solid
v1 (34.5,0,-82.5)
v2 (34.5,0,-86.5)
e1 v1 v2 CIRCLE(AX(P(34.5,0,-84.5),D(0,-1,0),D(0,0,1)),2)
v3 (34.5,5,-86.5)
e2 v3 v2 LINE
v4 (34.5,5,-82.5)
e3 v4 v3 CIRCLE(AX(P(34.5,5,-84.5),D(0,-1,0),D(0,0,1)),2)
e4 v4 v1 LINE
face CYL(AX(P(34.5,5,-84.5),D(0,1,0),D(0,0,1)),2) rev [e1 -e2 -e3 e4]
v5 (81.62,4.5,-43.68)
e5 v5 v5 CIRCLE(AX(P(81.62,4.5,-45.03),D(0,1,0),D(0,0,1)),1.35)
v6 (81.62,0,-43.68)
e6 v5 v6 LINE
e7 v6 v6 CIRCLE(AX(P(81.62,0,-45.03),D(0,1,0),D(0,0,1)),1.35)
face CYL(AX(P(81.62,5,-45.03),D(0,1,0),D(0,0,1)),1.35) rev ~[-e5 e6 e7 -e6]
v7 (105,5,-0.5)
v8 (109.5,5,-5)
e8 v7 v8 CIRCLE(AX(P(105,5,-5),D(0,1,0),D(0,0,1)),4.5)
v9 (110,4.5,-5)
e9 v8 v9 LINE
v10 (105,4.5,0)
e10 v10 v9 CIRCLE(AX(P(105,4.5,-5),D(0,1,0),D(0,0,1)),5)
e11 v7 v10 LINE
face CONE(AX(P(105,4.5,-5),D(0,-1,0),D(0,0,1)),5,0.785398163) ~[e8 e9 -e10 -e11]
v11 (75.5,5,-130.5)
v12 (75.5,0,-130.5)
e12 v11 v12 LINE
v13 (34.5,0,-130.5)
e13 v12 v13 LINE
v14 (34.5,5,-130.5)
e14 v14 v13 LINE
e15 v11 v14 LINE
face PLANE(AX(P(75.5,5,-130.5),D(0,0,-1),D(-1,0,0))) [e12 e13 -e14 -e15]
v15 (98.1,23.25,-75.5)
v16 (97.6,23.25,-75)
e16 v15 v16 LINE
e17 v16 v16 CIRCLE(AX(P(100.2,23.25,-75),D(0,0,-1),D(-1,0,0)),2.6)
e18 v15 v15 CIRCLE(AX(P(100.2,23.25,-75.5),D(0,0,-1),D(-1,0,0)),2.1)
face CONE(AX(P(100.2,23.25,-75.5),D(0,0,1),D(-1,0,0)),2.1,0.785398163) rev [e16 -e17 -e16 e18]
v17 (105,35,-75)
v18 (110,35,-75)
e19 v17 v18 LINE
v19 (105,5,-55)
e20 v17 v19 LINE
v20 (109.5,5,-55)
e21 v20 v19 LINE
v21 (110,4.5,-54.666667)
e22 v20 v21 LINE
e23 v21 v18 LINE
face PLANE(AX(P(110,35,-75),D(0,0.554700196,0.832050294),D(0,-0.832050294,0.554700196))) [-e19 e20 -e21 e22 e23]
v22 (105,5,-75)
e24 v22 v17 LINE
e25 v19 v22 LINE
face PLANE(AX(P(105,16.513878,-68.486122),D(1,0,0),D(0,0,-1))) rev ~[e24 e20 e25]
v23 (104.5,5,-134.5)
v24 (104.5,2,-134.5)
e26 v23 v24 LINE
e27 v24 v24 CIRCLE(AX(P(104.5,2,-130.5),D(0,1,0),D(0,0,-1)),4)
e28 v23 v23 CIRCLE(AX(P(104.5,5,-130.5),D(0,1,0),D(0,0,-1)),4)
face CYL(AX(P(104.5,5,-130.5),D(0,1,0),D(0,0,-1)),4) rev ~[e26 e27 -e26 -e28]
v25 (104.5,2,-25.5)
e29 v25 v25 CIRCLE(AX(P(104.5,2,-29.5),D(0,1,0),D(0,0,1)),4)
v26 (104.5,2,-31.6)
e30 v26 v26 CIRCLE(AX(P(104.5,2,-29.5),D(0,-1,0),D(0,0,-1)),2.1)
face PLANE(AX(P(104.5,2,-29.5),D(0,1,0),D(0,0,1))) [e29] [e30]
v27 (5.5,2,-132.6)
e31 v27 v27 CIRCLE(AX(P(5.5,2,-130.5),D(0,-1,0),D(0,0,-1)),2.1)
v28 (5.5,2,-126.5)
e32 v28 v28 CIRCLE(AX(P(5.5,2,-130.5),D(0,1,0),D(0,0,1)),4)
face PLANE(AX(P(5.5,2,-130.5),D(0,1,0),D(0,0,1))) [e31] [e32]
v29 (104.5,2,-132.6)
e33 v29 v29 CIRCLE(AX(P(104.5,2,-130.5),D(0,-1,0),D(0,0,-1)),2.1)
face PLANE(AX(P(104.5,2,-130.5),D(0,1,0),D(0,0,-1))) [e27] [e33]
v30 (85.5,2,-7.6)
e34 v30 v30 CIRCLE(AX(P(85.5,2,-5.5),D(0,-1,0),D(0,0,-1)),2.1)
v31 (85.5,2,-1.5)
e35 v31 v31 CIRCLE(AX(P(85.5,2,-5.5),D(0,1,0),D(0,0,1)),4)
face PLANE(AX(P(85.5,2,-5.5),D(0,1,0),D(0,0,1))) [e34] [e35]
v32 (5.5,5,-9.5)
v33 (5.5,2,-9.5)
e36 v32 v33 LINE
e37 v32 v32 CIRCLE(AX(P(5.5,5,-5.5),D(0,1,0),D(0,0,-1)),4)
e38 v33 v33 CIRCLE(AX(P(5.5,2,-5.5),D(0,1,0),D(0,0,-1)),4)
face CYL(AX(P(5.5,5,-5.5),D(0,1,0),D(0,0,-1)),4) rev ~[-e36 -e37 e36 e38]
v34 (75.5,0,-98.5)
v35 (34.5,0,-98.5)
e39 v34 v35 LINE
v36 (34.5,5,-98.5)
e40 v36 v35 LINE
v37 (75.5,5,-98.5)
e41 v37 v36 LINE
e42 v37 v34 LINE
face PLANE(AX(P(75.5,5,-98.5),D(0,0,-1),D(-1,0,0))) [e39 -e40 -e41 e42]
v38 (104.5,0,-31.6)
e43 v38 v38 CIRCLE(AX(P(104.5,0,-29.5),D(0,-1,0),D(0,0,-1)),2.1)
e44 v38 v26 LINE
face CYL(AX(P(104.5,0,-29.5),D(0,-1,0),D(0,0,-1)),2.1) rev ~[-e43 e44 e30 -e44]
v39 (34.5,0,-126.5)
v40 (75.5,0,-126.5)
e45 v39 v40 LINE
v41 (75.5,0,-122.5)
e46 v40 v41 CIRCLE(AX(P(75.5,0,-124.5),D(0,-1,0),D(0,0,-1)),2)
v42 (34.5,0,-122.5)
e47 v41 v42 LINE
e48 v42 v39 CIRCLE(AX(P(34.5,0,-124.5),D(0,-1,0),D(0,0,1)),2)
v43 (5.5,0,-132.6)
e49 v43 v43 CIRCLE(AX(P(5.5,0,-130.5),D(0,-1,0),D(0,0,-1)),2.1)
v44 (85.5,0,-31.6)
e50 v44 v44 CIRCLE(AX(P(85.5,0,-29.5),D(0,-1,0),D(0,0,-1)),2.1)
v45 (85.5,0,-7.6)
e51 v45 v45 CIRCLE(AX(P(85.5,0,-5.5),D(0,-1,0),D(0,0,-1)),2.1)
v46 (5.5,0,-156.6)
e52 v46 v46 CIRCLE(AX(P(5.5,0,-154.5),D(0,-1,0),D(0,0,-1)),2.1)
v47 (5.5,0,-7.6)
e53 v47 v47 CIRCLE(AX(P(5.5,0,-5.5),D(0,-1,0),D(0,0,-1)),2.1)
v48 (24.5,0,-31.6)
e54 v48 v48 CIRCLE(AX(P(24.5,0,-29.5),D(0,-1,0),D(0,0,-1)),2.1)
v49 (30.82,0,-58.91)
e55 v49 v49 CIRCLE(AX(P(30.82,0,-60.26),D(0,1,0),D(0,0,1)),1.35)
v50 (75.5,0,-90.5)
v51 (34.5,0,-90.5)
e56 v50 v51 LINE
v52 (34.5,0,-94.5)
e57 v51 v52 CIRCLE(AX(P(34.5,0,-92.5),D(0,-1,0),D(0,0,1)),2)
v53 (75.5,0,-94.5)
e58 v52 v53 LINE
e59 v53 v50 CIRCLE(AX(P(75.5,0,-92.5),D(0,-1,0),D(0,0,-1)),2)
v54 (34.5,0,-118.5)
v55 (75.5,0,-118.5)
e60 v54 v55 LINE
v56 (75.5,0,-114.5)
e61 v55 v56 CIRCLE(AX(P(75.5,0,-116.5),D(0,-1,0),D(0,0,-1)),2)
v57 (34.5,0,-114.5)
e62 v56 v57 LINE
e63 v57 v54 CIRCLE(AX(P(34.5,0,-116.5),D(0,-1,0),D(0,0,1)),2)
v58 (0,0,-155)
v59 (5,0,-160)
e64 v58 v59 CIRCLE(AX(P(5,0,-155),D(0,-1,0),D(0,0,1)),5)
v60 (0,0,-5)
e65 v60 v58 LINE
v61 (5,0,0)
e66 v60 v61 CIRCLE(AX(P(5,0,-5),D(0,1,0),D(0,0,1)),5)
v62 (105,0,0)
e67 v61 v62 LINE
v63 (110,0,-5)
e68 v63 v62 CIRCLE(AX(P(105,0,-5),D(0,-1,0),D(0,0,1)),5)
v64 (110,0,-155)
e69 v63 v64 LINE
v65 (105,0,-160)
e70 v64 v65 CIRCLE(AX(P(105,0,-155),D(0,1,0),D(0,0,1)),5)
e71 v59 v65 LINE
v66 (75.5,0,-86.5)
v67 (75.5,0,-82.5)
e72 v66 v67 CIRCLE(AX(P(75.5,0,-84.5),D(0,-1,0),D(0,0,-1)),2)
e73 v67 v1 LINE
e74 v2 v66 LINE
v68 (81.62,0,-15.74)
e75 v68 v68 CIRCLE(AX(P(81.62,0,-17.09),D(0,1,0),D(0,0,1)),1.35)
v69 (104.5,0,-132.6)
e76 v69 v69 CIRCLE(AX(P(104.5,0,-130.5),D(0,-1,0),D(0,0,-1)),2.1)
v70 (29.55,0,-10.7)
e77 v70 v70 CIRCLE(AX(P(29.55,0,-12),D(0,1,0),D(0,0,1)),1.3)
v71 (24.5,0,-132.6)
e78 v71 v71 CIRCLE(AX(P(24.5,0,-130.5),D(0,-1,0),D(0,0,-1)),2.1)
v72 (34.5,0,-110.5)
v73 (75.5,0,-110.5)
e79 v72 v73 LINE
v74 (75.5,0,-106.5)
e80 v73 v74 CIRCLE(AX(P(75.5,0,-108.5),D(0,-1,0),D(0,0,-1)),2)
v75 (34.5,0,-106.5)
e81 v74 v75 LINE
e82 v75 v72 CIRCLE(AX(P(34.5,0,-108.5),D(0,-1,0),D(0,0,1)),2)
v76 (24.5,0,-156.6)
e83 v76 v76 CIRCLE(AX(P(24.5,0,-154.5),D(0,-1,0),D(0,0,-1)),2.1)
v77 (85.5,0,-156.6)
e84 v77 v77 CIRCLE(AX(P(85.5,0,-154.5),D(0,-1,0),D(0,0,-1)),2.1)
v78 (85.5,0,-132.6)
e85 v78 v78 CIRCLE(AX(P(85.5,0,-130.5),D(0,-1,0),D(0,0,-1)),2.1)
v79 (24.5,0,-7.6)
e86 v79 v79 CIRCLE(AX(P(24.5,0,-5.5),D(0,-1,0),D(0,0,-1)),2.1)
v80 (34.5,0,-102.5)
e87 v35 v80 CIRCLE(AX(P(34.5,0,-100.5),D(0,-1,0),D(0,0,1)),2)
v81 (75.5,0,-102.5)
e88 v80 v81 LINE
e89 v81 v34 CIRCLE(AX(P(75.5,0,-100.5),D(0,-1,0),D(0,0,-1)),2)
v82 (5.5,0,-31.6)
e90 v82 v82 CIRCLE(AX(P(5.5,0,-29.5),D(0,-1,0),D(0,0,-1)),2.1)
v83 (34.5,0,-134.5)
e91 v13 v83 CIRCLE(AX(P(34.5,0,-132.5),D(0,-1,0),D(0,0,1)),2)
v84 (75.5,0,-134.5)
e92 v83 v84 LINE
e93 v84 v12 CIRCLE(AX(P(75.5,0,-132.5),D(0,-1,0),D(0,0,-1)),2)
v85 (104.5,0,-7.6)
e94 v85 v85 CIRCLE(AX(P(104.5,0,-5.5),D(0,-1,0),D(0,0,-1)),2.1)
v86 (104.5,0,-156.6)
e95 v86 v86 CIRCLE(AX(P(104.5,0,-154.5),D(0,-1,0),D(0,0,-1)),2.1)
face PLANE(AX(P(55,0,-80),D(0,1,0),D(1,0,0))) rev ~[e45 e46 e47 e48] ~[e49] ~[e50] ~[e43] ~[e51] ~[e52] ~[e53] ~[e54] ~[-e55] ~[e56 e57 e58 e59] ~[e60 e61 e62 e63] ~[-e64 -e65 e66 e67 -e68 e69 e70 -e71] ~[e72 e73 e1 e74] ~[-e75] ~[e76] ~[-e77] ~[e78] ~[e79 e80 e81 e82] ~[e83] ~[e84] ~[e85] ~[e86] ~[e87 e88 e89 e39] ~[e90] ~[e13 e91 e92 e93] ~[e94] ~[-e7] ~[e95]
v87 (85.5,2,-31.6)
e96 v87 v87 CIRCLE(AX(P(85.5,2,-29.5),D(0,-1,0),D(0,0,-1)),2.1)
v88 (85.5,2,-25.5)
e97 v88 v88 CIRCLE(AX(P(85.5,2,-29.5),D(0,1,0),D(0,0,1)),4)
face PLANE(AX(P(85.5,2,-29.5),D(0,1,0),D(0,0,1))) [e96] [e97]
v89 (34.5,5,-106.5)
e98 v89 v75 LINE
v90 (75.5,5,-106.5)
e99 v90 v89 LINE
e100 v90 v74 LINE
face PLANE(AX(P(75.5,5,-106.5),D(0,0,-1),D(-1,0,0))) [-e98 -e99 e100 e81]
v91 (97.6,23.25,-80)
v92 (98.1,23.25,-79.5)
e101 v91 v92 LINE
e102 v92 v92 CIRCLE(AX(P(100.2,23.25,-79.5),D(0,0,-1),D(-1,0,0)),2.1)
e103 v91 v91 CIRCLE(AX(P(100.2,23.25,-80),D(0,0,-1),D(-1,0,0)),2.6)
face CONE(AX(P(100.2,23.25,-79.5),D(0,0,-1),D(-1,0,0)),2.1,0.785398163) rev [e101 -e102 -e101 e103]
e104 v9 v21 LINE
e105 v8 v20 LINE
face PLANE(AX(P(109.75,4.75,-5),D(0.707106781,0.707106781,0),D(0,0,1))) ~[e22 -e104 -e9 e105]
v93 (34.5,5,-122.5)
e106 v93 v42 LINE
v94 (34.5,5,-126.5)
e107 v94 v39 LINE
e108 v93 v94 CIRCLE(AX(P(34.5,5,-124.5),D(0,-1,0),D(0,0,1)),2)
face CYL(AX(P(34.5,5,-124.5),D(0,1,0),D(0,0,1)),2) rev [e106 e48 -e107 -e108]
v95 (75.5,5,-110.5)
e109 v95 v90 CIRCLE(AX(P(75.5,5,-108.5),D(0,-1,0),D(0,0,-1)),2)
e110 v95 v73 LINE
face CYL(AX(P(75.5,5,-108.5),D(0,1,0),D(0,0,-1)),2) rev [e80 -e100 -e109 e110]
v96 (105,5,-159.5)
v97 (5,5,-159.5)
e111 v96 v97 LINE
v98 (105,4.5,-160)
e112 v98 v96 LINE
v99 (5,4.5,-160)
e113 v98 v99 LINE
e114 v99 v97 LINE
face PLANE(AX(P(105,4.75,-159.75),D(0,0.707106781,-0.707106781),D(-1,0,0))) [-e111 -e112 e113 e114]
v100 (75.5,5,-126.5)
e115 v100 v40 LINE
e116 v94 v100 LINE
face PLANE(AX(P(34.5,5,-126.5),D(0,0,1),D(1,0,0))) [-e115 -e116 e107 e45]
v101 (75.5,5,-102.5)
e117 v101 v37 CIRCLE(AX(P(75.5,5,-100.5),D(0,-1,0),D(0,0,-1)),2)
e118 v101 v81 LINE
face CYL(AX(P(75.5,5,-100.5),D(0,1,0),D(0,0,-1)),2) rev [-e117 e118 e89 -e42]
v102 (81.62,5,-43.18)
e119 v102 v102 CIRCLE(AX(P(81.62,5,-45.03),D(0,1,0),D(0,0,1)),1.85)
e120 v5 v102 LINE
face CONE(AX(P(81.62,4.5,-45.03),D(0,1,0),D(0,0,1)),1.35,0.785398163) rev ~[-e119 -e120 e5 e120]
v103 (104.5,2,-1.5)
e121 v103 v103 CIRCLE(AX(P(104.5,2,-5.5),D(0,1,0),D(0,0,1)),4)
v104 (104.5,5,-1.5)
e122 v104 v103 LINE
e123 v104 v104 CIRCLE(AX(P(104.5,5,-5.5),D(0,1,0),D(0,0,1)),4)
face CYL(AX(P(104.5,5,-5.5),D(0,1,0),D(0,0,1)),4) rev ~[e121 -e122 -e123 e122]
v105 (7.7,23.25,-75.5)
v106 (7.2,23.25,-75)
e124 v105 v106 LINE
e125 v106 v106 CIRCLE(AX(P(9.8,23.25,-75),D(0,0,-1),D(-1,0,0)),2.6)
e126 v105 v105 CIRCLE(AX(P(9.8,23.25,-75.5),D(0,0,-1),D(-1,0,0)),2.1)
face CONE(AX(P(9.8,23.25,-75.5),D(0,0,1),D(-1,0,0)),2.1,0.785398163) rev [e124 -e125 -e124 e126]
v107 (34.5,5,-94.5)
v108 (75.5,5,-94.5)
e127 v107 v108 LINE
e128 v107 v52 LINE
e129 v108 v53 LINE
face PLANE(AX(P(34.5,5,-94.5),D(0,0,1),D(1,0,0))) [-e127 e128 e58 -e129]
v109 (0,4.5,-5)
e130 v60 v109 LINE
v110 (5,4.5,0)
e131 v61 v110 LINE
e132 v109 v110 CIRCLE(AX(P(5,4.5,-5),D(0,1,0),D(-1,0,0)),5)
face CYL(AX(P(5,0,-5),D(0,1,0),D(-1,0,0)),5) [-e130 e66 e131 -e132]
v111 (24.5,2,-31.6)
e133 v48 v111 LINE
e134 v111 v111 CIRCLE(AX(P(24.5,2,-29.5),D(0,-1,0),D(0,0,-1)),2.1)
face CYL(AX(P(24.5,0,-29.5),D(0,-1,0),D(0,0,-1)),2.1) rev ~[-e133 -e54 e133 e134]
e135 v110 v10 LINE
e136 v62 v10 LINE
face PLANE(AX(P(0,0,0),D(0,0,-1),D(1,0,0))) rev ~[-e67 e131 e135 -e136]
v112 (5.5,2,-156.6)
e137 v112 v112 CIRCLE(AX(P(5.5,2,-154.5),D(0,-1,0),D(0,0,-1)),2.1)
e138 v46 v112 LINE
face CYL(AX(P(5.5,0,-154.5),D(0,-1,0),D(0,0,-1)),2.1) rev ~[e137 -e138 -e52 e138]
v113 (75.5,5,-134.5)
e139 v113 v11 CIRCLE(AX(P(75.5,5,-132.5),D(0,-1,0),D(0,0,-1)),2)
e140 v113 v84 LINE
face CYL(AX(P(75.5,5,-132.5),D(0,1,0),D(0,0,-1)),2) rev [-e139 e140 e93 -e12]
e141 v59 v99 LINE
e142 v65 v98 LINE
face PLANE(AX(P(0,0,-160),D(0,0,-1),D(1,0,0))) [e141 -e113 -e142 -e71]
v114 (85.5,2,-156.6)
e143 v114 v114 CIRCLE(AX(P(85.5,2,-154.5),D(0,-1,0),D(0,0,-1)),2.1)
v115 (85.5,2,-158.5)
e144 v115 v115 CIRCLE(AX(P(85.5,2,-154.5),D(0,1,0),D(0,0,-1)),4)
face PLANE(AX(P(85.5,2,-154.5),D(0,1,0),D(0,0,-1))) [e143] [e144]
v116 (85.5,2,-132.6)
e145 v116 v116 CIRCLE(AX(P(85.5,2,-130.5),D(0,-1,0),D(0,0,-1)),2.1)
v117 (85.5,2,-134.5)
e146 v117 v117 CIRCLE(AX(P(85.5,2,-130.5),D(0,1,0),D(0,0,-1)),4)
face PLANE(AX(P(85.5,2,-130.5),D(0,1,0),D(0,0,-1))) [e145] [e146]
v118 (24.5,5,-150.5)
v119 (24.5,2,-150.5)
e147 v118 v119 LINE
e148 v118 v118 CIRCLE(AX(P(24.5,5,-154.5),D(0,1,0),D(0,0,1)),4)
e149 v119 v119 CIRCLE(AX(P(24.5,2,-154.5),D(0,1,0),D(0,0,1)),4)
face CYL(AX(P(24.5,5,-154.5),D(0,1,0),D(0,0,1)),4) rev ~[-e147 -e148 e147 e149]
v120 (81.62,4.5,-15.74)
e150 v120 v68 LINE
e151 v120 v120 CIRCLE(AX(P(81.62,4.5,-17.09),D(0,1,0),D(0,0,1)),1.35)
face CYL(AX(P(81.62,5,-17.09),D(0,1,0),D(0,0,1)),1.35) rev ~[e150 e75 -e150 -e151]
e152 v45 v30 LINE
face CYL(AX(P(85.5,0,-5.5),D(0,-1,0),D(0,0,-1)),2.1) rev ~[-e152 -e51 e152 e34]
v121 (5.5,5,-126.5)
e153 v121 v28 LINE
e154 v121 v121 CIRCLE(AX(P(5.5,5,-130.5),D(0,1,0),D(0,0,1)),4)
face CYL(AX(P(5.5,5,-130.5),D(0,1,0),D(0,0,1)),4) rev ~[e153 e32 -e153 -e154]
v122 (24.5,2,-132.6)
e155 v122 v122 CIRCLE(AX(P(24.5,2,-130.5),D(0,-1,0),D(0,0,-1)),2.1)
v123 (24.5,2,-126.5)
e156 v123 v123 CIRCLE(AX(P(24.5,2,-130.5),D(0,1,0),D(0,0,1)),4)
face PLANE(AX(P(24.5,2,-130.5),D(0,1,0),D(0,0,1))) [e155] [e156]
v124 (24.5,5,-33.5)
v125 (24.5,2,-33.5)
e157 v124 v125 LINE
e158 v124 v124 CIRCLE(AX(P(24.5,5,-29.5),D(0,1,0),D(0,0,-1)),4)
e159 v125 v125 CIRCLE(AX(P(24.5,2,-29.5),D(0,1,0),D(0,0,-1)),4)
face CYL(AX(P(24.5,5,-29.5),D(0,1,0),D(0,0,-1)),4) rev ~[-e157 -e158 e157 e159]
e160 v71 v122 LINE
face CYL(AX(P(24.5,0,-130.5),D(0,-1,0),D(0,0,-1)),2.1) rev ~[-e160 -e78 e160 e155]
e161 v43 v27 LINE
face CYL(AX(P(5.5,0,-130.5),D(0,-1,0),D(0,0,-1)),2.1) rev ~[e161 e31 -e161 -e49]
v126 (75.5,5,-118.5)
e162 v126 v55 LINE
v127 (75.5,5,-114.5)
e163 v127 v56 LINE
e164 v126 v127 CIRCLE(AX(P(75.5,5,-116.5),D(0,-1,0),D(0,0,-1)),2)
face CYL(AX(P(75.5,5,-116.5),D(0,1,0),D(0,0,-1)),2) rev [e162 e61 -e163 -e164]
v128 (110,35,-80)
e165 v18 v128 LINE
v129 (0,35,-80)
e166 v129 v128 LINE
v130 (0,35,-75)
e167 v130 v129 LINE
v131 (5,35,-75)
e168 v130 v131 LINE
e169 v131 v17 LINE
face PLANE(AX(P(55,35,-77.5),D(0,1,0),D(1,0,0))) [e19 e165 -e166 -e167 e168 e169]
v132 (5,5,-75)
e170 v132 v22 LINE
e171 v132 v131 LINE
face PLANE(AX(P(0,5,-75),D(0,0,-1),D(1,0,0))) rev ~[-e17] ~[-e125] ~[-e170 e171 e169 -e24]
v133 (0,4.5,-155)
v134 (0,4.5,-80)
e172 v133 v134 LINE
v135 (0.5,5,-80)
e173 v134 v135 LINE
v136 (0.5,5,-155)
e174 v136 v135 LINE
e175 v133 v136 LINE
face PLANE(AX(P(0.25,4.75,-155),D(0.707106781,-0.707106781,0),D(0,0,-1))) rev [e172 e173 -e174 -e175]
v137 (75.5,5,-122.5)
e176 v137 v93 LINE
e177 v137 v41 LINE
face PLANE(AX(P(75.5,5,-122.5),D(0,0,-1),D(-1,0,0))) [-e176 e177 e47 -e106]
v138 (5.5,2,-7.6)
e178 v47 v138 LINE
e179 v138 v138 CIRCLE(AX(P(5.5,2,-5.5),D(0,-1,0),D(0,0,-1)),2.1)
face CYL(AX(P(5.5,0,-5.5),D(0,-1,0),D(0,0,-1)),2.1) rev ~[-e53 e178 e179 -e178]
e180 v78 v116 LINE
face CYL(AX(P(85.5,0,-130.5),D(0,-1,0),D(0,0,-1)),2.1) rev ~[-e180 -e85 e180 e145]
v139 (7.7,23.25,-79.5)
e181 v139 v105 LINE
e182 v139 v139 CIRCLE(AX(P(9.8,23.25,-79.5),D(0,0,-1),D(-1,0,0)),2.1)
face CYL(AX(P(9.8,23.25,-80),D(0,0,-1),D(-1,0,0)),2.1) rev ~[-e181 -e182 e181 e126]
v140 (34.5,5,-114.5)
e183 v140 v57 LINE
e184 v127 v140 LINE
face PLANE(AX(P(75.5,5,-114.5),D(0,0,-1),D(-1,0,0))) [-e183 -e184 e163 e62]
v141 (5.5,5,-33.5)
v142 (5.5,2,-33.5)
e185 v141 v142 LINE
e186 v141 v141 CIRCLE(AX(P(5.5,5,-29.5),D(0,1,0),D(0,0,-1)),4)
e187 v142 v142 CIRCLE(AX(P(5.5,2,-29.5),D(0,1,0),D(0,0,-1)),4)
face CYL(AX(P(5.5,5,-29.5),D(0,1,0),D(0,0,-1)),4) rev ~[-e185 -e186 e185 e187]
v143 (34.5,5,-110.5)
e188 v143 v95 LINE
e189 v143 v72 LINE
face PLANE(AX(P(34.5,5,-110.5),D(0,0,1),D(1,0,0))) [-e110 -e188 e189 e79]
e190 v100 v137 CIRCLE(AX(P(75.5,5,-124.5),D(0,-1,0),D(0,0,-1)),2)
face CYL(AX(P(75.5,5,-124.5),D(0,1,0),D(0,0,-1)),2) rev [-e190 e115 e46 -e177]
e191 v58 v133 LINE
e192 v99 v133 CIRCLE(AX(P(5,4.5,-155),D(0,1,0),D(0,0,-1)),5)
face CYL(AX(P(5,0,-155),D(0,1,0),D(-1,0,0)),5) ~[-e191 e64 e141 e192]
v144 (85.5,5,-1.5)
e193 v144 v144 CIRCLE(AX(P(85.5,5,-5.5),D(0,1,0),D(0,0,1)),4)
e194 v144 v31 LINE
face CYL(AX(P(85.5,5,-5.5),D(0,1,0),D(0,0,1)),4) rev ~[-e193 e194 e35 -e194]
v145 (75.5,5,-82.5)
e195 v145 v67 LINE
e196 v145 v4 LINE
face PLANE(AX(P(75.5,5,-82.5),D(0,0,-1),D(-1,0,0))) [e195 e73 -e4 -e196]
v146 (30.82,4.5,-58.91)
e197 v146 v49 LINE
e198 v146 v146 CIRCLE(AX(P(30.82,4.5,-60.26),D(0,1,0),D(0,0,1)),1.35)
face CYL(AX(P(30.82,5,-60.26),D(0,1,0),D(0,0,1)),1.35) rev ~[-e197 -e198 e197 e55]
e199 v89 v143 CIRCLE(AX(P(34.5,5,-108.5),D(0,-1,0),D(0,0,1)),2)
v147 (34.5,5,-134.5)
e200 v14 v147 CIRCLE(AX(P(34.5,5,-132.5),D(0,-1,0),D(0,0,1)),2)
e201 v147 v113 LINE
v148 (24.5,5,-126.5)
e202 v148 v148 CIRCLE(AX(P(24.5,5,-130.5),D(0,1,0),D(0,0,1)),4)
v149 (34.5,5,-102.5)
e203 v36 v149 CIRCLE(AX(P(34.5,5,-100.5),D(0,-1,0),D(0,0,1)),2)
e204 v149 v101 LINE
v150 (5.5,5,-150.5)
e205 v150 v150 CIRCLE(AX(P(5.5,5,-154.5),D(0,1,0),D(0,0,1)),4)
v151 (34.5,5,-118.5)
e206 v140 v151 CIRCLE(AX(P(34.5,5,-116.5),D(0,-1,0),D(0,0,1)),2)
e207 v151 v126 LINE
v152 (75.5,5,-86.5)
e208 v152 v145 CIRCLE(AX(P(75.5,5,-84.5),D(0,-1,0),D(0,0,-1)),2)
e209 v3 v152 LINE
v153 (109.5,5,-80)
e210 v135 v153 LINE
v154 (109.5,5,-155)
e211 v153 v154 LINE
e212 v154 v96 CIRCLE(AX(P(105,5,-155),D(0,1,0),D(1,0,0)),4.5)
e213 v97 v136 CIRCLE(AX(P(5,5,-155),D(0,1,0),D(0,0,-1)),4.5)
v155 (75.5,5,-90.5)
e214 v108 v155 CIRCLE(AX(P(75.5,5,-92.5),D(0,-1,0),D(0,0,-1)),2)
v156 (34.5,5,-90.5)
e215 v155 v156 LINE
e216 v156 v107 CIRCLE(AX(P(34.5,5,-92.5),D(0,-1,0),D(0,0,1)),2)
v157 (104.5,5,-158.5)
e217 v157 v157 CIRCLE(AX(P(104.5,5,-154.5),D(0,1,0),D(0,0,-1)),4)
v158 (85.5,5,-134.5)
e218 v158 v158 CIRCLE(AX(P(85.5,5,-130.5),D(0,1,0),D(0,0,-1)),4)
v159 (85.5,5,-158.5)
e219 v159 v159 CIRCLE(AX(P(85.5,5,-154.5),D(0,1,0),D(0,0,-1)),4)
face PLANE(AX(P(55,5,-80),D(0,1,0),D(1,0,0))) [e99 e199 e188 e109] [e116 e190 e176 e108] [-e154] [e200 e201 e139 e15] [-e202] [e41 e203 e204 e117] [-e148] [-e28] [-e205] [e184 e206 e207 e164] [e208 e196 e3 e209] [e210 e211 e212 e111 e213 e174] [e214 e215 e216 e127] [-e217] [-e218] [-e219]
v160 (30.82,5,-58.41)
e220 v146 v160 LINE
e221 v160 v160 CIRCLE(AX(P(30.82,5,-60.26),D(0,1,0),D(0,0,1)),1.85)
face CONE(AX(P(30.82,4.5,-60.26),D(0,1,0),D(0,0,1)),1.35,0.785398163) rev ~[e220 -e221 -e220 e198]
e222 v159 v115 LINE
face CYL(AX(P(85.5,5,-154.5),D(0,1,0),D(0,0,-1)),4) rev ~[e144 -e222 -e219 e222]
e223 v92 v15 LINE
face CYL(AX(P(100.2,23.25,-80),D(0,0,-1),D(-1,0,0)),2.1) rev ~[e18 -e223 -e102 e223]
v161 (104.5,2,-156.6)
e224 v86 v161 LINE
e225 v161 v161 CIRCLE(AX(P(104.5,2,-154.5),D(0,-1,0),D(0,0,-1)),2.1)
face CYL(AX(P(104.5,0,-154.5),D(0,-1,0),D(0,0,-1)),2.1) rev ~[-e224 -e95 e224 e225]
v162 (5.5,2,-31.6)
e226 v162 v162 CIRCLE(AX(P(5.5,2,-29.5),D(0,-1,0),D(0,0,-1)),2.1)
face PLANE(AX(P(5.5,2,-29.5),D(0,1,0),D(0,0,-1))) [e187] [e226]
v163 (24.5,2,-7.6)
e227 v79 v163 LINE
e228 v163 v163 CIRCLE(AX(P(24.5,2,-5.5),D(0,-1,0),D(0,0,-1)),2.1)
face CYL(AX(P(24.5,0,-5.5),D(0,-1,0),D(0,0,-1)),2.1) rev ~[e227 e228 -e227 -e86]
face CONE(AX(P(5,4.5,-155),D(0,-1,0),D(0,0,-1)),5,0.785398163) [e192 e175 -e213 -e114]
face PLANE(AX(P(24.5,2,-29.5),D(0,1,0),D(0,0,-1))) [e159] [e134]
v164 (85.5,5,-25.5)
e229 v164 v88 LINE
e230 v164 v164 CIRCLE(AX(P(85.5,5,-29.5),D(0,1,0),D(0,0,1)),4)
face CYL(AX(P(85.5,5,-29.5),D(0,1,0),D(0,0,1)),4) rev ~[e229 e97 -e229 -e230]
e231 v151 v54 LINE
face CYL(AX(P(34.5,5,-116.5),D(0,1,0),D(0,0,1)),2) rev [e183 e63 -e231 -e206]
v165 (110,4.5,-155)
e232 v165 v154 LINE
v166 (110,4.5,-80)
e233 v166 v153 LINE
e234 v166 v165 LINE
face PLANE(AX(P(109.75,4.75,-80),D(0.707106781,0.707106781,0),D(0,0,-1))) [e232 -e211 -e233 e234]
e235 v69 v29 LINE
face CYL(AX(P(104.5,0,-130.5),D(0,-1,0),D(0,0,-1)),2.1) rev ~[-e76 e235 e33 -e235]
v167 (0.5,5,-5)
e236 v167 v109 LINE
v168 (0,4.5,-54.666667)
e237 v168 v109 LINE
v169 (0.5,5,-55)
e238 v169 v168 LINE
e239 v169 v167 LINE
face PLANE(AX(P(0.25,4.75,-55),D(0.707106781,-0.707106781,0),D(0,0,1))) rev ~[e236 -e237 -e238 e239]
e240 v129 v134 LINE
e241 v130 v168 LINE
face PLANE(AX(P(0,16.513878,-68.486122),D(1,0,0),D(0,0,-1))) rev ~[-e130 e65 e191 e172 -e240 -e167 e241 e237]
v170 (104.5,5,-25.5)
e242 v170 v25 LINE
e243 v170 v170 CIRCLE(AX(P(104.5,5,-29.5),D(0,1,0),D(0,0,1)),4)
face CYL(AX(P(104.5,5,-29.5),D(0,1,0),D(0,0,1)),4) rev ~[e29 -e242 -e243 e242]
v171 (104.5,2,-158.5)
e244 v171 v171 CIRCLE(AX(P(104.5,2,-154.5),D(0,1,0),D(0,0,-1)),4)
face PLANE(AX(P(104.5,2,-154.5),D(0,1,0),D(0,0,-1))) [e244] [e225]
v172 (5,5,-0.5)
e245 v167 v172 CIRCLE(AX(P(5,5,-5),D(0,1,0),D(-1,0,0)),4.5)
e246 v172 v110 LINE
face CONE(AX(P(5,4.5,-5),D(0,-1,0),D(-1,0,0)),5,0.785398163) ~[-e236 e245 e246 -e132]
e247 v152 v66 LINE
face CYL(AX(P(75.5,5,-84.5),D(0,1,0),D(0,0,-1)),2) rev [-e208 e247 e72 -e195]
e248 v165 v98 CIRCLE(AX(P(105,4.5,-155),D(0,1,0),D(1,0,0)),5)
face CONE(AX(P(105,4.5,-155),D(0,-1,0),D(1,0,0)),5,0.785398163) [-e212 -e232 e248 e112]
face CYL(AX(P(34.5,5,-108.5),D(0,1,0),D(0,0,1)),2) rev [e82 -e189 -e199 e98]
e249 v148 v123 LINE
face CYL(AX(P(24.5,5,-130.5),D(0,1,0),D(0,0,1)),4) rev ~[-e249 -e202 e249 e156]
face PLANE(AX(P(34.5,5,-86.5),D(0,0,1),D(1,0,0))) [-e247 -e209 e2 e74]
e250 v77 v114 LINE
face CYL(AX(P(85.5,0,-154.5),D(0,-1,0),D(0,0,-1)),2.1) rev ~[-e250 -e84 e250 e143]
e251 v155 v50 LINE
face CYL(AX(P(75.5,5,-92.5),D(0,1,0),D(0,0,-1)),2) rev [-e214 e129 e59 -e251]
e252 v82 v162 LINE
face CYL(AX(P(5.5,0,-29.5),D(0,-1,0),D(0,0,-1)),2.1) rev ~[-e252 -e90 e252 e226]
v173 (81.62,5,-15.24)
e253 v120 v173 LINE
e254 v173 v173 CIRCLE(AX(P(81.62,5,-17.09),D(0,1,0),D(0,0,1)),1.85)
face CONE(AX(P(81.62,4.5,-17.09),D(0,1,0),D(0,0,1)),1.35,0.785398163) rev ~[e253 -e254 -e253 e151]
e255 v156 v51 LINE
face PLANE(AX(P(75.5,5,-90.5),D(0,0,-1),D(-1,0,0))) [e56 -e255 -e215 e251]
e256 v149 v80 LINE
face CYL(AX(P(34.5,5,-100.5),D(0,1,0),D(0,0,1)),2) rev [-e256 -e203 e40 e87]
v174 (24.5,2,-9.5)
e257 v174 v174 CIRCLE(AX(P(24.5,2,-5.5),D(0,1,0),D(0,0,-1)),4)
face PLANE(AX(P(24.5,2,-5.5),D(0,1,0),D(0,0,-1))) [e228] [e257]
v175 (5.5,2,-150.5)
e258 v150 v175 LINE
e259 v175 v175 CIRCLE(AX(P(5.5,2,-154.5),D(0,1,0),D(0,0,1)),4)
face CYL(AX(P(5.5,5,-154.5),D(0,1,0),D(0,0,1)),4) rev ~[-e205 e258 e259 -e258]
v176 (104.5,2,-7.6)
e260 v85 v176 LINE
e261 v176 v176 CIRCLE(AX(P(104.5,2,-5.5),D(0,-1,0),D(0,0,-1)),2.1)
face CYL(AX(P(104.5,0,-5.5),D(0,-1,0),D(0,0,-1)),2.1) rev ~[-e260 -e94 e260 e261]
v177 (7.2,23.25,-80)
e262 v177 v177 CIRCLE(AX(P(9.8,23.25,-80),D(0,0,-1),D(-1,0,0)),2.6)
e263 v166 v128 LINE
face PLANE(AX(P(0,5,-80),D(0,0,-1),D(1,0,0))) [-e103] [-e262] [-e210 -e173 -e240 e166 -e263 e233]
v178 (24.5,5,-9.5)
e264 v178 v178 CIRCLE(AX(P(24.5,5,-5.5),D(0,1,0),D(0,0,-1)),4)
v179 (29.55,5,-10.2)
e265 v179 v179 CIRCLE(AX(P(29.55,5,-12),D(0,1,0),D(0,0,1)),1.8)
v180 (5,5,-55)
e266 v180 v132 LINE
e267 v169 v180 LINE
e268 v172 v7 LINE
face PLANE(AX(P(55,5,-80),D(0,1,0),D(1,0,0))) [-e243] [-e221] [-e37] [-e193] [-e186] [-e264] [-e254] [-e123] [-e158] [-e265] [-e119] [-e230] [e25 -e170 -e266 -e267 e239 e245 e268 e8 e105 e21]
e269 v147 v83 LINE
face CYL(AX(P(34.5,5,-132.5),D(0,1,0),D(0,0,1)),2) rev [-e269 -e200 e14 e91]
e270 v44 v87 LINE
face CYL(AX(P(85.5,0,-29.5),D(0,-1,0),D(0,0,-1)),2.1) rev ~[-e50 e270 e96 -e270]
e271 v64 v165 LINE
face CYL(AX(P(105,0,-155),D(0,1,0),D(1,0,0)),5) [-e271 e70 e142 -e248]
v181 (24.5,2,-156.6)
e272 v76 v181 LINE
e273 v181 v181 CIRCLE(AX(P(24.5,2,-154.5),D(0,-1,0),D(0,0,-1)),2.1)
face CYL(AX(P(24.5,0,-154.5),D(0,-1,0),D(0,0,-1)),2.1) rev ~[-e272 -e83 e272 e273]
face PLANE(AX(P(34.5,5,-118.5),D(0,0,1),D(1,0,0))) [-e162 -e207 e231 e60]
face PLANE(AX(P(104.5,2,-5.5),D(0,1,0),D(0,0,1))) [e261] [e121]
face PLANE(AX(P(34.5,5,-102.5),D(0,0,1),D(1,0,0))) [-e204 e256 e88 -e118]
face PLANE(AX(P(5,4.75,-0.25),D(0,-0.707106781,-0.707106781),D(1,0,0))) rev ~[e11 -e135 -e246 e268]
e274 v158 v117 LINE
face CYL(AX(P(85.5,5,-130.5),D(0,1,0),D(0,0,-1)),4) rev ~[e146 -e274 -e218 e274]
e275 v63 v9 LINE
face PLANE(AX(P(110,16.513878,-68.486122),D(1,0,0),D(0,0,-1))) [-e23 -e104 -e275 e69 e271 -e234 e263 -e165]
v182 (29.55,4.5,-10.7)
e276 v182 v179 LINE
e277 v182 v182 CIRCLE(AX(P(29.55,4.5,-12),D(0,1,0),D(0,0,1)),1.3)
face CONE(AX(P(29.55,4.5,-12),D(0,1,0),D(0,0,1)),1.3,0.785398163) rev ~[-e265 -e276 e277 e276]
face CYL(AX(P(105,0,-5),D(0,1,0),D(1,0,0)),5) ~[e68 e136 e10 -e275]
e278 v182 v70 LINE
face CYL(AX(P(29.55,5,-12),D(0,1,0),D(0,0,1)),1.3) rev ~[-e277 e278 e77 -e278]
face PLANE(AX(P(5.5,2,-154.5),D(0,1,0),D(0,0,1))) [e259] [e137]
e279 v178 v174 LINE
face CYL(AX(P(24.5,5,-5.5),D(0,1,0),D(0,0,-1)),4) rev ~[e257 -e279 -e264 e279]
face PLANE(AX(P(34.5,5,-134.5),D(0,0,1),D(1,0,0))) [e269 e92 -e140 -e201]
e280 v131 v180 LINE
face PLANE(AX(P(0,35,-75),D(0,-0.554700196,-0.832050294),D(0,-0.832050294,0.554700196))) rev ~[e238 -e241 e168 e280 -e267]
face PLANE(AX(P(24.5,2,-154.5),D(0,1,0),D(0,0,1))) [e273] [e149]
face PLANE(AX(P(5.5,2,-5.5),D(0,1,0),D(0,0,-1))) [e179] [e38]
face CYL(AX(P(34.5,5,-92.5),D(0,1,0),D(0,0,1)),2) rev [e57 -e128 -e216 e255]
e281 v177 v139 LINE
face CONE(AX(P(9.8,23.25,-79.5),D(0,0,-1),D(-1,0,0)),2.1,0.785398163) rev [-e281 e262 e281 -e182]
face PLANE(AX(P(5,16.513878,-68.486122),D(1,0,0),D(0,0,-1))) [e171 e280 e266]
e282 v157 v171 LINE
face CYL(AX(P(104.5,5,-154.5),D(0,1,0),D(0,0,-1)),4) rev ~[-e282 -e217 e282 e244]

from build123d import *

# Parameters (mm, degrees)
SKICA2_W                 = 110
SKICA2_H                 = 160
P_IDAT_VYSUNUT_M1_DEPTH  = 5
SKICA3_W                 = 110
SKICA3_H                 = 5
P_IDAT_VYSUNUT_M2_DEPTH  = 30
P_IDAT_VYSUNUT_M3_DEPTH  = 5
P_IDAT_VYSUNUT_M4_DEPTH  = 5
SKICA6_R                 = 2.1
ODEBRAT_VYSUNUT_M1_DEPTH = 5
SKICA8_R                 = 1.3
SKICA8_R_2               = 1.35
ODEBRAT_VYSUNUT_M3_DEPTH = 5
SKICA9_R                 = 2.1
ODEBRAT_VYSUNUT_M4_DEPTH = 5
SKICA10_R                = 4
ODEBRAT_VYSUNUT_M5_DEPTH = 3
ZAOBLIT1_R               = 5
ZKOSEN_3_SIZE            = 0.5
ZKOSEN_6_SIZE            = 0.5
ODEBRAT_VYSUNUT_M6_DEPTH = 5
ZKOSEN_7_SIZE            = 0.5


with BuildPart() as part:
    # Skica2 → Přidat vysunutím1 (new body)
    with BuildSketch(Plane(origin=(0, 0, 0), x_dir=(1, 0, 0), z_dir=(0, 1, 0))):
        with Locations((55, 80)):
            Rectangle(SKICA2_W, SKICA2_H)
    extrude(amount=P_IDAT_VYSUNUT_M1_DEPTH)

    # Skica3 → Přidat vysunutím2 (add)
    with BuildSketch(Plane(origin=(0, 5, 0), x_dir=(1, 0, 0), z_dir=(0, 1, 0))):
        with Locations((55, 77.5)):
            Rectangle(SKICA3_W, SKICA3_H)
    extrude(amount=P_IDAT_VYSUNUT_M2_DEPTH)

    # Skica4 → Přidat vysunutím3 (add)
    with BuildSketch(Plane.ZY):
        Polygon((-75, 35), (-55, 5), (-75, 5), align=None)
    extrude(amount=-P_IDAT_VYSUNUT_M3_DEPTH)

    # Skica5 → Přidat vysunutím4 (add)
    with BuildSketch(Plane(origin=(110, 0, 0), x_dir=(0, 0, -1), z_dir=(1, 0, 0))):
        Polygon((75, 35), (55, 5), (75, 5), align=None)
    extrude(amount=-P_IDAT_VYSUNUT_M4_DEPTH)

    # Skica6 → Odebrat vysunutím1 (cut)
    with BuildSketch(Plane(origin=(0, 0, -80), x_dir=(-1, 0, 0), z_dir=(0, 0, -1))):
        with Locations((-100.2, 23.25)):
            Circle(SKICA6_R)
        with Locations((-9.8, 23.25)):
            Circle(SKICA6_R)
    extrude(amount=-ODEBRAT_VYSUNUT_M1_DEPTH, mode=Mode.SUBTRACT)

    # Skica8 → Odebrat vysunutím3 (cut)
    with BuildSketch(Plane(origin=(0, 5, 0), x_dir=(1, 0, 0), z_dir=(0, 1, 0))):
        with Locations(Location((29.55, 12, 0), (0, 0, 270))):
            Circle(SKICA8_R)
        with Locations(Location((30.82, 60.26, 0), (0, 0, 270))):
            Circle(SKICA8_R_2)
        with Locations(Location((81.62, 17.09, 0), (0, 0, 270))):
            Circle(SKICA8_R_2)
        with Locations(Location((81.62, 45.03, 0), (0, 0, 270))):
            Circle(SKICA8_R_2)
    extrude(amount=-ODEBRAT_VYSUNUT_M3_DEPTH, mode=Mode.SUBTRACT)

    # Skica9 → Odebrat vysunutím4 (cut)
    with BuildSketch(Plane.XZ):
        with Locations(Location((5.5, -5.5, 0), (0, 0, 270))):
            Circle(SKICA9_R)
        with Locations(Location((24.5, -5.5, 0), (0, 0, 270))):
            Circle(SKICA9_R)
        with Locations(Location((5.5, -29.5, 0), (0, 0, 270))):
            Circle(SKICA9_R)
        with Locations(Location((24.5, -29.5, 0), (0, 0, 270))):
            Circle(SKICA9_R)
        with Locations(Location((85.5, -29.5, 0), (0, 0, 270))):
            Circle(SKICA9_R)
        with Locations(Location((104.5, -29.5, 0), (0, 0, 270))):
            Circle(SKICA9_R)
        with Locations(Location((85.5, -5.5, 0), (0, 0, 270))):
            Circle(SKICA9_R)
        with Locations(Location((104.5, -5.5, 0), (0, 0, 270))):
            Circle(SKICA9_R)
        with Locations(Location((104.5, -154.5, 0), (0, 0, 270))):
            Circle(SKICA9_R)
        with Locations(Location((85.5, -154.5, 0), (0, 0, 270))):
            Circle(SKICA9_R)
        with Locations(Location((104.5, -130.5, 0), (0, 0, 270))):
            Circle(SKICA9_R)
        with Locations(Location((85.5, -130.5, 0), (0, 0, 270))):
            Circle(SKICA9_R)
        with Locations(Location((24.5, -130.5, 0), (0, 0, 270))):
            Circle(SKICA9_R)
        with Locations(Location((5.5, -130.5, 0), (0, 0, 270))):
            Circle(SKICA9_R)
        with Locations(Location((24.5, -154.5, 0), (0, 0, 270))):
            Circle(SKICA9_R)
        with Locations(Location((5.5, -154.5, 0), (0, 0, 270))):
            Circle(SKICA9_R)
    extrude(amount=-ODEBRAT_VYSUNUT_M4_DEPTH, mode=Mode.SUBTRACT)

    # Skica10 → Odebrat vysunutím5 (cut)
    with BuildSketch(Plane(origin=(0, 5, 0), x_dir=(1, 0, 0), z_dir=(0, 1, 0))):
        with Locations(Location((5.5, 154.5, 0), (0, 0, 270))):
            Circle(SKICA10_R)
        with Locations(Location((24.5, 154.5, 0), (0, 0, 270))):
            Circle(SKICA10_R)
        with Locations(Location((5.5, 130.5, 0), (0, 0, 270))):
            Circle(SKICA10_R)
        with Locations(Location((24.5, 130.5, 0), (0, 0, 270))):
            Circle(SKICA10_R)
        with Locations(Location((85.5, 130.5, 0), (0, 0, 90))):
            Circle(SKICA10_R)
        with Locations(Location((104.5, 130.5, 0), (0, 0, 90))):
            Circle(SKICA10_R)
        with Locations(Location((85.5, 154.5, 0), (0, 0, 90))):
            Circle(SKICA10_R)
        with Locations(Location((104.5, 154.5, 0), (0, 0, 90))):
            Circle(SKICA10_R)
        with Locations(Location((104.5, 5.5, 0), (0, 0, 270))):
            Circle(SKICA10_R)
        with Locations(Location((85.5, 5.5, 0), (0, 0, 270))):
            Circle(SKICA10_R)
        with Locations(Location((104.5, 29.5, 0), (0, 0, 270))):
            Circle(SKICA10_R)
        with Locations(Location((85.5, 29.5, 0), (0, 0, 270))):
            Circle(SKICA10_R)
        with Locations(Location((24.5, 29.5, 0), (0, 0, 90))):
            Circle(SKICA10_R)
        with Locations(Location((5.5, 29.5, 0), (0, 0, 90))):
            Circle(SKICA10_R)
        with Locations(Location((24.5, 5.5, 0), (0, 0, 90))):
            Circle(SKICA10_R)
        with Locations(Location((5.5, 5.5, 0), (0, 0, 90))):
            Circle(SKICA10_R)
    extrude(amount=-ODEBRAT_VYSUNUT_M5_DEPTH, mode=Mode.SUBTRACT)

    # Zaoblit1
    zaoblit1_edges = [part.edges().sort_by_distance(p)[0] for p in [
        (0, 2.5, -160),
        (110, 2.5, -160),
        (110, 2.5, 0),
        (0, 2.5, 0),
    ]]
    fillet(zaoblit1_edges, radius=ZAOBLIT1_R)

    # Zkosení3
    zkosen_3_edges = [part.edges().sort_by_distance(p)[0] for p in [
        (110, 5, -117.5),
        (110, 5, -30),
        (55, 5, 0),
        (1.464466094, 5, -1.464466094),
        (108.535533906, 5, -1.464466094),
        (55, 5, -160),
        (0, 5, -117.5),
        (1.464466094, 5, -158.535533906),
        (108.535533906, 5, -158.535533906),
        (0, 5, -30),
    ]]
    chamfer(zkosen_3_edges, length=ZKOSEN_3_SIZE)

    # Zkosení6
    zkosen_6_edges = [part.edges().sort_by_distance(p)[0] for p in [
        (102.3, 23.25, -80),
        (102.3, 23.25, -75),
        (11.9, 23.25, -80),
        (11.9, 23.25, -75),
    ]]
    chamfer(zkosen_6_edges, length=ZKOSEN_6_SIZE)

    # Skica11 → Odebrat vysunutím6 (cut)
    with BuildSketch(Plane(origin=(0, 5, 0), x_dir=(1, 0, 0), z_dir=(0, 1, 0))):
        with BuildLine():
            Line((34.5, 134.5), (75.5, 134.5))
            ThreePointArc((75.5, 134.5), (77.5, 132.5), (75.5, 130.5))
            Line((75.5, 130.5), (34.5, 130.5))
            ThreePointArc((34.5, 130.5), (32.5, 132.5), (34.5, 134.5))
        make_face()
        with BuildLine():
            Line((34.5, 126.5), (75.5, 126.5))
            ThreePointArc((75.5, 126.5), (77.5, 124.5), (75.5, 122.5))
            Line((75.5, 122.5), (34.5, 122.5))
            ThreePointArc((34.5, 122.5), (32.5, 124.5), (34.5, 126.5))
        make_face()
        with BuildLine():
            Line((34.5, 118.5), (75.5, 118.5))
            ThreePointArc((75.5, 118.5), (77.5, 116.5), (75.5, 114.5))
            Line((75.5, 114.5), (34.5, 114.5))
            ThreePointArc((34.5, 114.5), (32.5, 116.5), (34.5, 118.5))
        make_face()
        with BuildLine():
            Line((34.5, 110.5), (75.5, 110.5))
            ThreePointArc((75.5, 110.5), (77.5, 108.5), (75.5, 106.5))
            Line((75.5, 106.5), (34.5, 106.5))
            ThreePointArc((34.5, 106.5), (32.5, 108.5), (34.5, 110.5))
        make_face()
        with BuildLine():
            Line((34.5, 102.5), (75.5, 102.5))
            ThreePointArc((75.5, 102.5), (77.5, 100.5), (75.5, 98.5))
            Line((75.5, 98.5), (34.5, 98.5))
            ThreePointArc((34.5, 98.5), (32.5, 100.5), (34.5, 102.5))
        make_face()
        with BuildLine():
            Line((34.5, 94.5), (75.5, 94.5))
            ThreePointArc((75.5, 94.5), (77.5, 92.5), (75.5, 90.5))
            Line((75.5, 90.5), (34.5, 90.5))
            ThreePointArc((34.5, 90.5), (32.5, 92.5), (34.5, 94.5))
        make_face()
        with BuildLine():
            Line((34.5, 86.5), (75.5, 86.5))
            ThreePointArc((75.5, 86.5), (77.5, 84.5), (75.5, 82.5))
            Line((75.5, 82.5), (34.5, 82.5))
            ThreePointArc((34.5, 82.5), (32.5, 84.5), (34.5, 86.5))
        make_face()
    extrude(amount=-ODEBRAT_VYSUNUT_M6_DEPTH, mode=Mode.SUBTRACT)

    # Zkosení7
    zkosen_7_edges = [part.edges().sort_by_distance(p)[0] for p in [
        (30.82, 5, -61.61),
        (29.55, 5, -13.3),
        (81.62, 5, -18.44),
        (81.62, 5, -46.38),
    ]]
    chamfer(zkosen_7_edges, length=ZKOSEN_7_SIZE)


solid = part.part
